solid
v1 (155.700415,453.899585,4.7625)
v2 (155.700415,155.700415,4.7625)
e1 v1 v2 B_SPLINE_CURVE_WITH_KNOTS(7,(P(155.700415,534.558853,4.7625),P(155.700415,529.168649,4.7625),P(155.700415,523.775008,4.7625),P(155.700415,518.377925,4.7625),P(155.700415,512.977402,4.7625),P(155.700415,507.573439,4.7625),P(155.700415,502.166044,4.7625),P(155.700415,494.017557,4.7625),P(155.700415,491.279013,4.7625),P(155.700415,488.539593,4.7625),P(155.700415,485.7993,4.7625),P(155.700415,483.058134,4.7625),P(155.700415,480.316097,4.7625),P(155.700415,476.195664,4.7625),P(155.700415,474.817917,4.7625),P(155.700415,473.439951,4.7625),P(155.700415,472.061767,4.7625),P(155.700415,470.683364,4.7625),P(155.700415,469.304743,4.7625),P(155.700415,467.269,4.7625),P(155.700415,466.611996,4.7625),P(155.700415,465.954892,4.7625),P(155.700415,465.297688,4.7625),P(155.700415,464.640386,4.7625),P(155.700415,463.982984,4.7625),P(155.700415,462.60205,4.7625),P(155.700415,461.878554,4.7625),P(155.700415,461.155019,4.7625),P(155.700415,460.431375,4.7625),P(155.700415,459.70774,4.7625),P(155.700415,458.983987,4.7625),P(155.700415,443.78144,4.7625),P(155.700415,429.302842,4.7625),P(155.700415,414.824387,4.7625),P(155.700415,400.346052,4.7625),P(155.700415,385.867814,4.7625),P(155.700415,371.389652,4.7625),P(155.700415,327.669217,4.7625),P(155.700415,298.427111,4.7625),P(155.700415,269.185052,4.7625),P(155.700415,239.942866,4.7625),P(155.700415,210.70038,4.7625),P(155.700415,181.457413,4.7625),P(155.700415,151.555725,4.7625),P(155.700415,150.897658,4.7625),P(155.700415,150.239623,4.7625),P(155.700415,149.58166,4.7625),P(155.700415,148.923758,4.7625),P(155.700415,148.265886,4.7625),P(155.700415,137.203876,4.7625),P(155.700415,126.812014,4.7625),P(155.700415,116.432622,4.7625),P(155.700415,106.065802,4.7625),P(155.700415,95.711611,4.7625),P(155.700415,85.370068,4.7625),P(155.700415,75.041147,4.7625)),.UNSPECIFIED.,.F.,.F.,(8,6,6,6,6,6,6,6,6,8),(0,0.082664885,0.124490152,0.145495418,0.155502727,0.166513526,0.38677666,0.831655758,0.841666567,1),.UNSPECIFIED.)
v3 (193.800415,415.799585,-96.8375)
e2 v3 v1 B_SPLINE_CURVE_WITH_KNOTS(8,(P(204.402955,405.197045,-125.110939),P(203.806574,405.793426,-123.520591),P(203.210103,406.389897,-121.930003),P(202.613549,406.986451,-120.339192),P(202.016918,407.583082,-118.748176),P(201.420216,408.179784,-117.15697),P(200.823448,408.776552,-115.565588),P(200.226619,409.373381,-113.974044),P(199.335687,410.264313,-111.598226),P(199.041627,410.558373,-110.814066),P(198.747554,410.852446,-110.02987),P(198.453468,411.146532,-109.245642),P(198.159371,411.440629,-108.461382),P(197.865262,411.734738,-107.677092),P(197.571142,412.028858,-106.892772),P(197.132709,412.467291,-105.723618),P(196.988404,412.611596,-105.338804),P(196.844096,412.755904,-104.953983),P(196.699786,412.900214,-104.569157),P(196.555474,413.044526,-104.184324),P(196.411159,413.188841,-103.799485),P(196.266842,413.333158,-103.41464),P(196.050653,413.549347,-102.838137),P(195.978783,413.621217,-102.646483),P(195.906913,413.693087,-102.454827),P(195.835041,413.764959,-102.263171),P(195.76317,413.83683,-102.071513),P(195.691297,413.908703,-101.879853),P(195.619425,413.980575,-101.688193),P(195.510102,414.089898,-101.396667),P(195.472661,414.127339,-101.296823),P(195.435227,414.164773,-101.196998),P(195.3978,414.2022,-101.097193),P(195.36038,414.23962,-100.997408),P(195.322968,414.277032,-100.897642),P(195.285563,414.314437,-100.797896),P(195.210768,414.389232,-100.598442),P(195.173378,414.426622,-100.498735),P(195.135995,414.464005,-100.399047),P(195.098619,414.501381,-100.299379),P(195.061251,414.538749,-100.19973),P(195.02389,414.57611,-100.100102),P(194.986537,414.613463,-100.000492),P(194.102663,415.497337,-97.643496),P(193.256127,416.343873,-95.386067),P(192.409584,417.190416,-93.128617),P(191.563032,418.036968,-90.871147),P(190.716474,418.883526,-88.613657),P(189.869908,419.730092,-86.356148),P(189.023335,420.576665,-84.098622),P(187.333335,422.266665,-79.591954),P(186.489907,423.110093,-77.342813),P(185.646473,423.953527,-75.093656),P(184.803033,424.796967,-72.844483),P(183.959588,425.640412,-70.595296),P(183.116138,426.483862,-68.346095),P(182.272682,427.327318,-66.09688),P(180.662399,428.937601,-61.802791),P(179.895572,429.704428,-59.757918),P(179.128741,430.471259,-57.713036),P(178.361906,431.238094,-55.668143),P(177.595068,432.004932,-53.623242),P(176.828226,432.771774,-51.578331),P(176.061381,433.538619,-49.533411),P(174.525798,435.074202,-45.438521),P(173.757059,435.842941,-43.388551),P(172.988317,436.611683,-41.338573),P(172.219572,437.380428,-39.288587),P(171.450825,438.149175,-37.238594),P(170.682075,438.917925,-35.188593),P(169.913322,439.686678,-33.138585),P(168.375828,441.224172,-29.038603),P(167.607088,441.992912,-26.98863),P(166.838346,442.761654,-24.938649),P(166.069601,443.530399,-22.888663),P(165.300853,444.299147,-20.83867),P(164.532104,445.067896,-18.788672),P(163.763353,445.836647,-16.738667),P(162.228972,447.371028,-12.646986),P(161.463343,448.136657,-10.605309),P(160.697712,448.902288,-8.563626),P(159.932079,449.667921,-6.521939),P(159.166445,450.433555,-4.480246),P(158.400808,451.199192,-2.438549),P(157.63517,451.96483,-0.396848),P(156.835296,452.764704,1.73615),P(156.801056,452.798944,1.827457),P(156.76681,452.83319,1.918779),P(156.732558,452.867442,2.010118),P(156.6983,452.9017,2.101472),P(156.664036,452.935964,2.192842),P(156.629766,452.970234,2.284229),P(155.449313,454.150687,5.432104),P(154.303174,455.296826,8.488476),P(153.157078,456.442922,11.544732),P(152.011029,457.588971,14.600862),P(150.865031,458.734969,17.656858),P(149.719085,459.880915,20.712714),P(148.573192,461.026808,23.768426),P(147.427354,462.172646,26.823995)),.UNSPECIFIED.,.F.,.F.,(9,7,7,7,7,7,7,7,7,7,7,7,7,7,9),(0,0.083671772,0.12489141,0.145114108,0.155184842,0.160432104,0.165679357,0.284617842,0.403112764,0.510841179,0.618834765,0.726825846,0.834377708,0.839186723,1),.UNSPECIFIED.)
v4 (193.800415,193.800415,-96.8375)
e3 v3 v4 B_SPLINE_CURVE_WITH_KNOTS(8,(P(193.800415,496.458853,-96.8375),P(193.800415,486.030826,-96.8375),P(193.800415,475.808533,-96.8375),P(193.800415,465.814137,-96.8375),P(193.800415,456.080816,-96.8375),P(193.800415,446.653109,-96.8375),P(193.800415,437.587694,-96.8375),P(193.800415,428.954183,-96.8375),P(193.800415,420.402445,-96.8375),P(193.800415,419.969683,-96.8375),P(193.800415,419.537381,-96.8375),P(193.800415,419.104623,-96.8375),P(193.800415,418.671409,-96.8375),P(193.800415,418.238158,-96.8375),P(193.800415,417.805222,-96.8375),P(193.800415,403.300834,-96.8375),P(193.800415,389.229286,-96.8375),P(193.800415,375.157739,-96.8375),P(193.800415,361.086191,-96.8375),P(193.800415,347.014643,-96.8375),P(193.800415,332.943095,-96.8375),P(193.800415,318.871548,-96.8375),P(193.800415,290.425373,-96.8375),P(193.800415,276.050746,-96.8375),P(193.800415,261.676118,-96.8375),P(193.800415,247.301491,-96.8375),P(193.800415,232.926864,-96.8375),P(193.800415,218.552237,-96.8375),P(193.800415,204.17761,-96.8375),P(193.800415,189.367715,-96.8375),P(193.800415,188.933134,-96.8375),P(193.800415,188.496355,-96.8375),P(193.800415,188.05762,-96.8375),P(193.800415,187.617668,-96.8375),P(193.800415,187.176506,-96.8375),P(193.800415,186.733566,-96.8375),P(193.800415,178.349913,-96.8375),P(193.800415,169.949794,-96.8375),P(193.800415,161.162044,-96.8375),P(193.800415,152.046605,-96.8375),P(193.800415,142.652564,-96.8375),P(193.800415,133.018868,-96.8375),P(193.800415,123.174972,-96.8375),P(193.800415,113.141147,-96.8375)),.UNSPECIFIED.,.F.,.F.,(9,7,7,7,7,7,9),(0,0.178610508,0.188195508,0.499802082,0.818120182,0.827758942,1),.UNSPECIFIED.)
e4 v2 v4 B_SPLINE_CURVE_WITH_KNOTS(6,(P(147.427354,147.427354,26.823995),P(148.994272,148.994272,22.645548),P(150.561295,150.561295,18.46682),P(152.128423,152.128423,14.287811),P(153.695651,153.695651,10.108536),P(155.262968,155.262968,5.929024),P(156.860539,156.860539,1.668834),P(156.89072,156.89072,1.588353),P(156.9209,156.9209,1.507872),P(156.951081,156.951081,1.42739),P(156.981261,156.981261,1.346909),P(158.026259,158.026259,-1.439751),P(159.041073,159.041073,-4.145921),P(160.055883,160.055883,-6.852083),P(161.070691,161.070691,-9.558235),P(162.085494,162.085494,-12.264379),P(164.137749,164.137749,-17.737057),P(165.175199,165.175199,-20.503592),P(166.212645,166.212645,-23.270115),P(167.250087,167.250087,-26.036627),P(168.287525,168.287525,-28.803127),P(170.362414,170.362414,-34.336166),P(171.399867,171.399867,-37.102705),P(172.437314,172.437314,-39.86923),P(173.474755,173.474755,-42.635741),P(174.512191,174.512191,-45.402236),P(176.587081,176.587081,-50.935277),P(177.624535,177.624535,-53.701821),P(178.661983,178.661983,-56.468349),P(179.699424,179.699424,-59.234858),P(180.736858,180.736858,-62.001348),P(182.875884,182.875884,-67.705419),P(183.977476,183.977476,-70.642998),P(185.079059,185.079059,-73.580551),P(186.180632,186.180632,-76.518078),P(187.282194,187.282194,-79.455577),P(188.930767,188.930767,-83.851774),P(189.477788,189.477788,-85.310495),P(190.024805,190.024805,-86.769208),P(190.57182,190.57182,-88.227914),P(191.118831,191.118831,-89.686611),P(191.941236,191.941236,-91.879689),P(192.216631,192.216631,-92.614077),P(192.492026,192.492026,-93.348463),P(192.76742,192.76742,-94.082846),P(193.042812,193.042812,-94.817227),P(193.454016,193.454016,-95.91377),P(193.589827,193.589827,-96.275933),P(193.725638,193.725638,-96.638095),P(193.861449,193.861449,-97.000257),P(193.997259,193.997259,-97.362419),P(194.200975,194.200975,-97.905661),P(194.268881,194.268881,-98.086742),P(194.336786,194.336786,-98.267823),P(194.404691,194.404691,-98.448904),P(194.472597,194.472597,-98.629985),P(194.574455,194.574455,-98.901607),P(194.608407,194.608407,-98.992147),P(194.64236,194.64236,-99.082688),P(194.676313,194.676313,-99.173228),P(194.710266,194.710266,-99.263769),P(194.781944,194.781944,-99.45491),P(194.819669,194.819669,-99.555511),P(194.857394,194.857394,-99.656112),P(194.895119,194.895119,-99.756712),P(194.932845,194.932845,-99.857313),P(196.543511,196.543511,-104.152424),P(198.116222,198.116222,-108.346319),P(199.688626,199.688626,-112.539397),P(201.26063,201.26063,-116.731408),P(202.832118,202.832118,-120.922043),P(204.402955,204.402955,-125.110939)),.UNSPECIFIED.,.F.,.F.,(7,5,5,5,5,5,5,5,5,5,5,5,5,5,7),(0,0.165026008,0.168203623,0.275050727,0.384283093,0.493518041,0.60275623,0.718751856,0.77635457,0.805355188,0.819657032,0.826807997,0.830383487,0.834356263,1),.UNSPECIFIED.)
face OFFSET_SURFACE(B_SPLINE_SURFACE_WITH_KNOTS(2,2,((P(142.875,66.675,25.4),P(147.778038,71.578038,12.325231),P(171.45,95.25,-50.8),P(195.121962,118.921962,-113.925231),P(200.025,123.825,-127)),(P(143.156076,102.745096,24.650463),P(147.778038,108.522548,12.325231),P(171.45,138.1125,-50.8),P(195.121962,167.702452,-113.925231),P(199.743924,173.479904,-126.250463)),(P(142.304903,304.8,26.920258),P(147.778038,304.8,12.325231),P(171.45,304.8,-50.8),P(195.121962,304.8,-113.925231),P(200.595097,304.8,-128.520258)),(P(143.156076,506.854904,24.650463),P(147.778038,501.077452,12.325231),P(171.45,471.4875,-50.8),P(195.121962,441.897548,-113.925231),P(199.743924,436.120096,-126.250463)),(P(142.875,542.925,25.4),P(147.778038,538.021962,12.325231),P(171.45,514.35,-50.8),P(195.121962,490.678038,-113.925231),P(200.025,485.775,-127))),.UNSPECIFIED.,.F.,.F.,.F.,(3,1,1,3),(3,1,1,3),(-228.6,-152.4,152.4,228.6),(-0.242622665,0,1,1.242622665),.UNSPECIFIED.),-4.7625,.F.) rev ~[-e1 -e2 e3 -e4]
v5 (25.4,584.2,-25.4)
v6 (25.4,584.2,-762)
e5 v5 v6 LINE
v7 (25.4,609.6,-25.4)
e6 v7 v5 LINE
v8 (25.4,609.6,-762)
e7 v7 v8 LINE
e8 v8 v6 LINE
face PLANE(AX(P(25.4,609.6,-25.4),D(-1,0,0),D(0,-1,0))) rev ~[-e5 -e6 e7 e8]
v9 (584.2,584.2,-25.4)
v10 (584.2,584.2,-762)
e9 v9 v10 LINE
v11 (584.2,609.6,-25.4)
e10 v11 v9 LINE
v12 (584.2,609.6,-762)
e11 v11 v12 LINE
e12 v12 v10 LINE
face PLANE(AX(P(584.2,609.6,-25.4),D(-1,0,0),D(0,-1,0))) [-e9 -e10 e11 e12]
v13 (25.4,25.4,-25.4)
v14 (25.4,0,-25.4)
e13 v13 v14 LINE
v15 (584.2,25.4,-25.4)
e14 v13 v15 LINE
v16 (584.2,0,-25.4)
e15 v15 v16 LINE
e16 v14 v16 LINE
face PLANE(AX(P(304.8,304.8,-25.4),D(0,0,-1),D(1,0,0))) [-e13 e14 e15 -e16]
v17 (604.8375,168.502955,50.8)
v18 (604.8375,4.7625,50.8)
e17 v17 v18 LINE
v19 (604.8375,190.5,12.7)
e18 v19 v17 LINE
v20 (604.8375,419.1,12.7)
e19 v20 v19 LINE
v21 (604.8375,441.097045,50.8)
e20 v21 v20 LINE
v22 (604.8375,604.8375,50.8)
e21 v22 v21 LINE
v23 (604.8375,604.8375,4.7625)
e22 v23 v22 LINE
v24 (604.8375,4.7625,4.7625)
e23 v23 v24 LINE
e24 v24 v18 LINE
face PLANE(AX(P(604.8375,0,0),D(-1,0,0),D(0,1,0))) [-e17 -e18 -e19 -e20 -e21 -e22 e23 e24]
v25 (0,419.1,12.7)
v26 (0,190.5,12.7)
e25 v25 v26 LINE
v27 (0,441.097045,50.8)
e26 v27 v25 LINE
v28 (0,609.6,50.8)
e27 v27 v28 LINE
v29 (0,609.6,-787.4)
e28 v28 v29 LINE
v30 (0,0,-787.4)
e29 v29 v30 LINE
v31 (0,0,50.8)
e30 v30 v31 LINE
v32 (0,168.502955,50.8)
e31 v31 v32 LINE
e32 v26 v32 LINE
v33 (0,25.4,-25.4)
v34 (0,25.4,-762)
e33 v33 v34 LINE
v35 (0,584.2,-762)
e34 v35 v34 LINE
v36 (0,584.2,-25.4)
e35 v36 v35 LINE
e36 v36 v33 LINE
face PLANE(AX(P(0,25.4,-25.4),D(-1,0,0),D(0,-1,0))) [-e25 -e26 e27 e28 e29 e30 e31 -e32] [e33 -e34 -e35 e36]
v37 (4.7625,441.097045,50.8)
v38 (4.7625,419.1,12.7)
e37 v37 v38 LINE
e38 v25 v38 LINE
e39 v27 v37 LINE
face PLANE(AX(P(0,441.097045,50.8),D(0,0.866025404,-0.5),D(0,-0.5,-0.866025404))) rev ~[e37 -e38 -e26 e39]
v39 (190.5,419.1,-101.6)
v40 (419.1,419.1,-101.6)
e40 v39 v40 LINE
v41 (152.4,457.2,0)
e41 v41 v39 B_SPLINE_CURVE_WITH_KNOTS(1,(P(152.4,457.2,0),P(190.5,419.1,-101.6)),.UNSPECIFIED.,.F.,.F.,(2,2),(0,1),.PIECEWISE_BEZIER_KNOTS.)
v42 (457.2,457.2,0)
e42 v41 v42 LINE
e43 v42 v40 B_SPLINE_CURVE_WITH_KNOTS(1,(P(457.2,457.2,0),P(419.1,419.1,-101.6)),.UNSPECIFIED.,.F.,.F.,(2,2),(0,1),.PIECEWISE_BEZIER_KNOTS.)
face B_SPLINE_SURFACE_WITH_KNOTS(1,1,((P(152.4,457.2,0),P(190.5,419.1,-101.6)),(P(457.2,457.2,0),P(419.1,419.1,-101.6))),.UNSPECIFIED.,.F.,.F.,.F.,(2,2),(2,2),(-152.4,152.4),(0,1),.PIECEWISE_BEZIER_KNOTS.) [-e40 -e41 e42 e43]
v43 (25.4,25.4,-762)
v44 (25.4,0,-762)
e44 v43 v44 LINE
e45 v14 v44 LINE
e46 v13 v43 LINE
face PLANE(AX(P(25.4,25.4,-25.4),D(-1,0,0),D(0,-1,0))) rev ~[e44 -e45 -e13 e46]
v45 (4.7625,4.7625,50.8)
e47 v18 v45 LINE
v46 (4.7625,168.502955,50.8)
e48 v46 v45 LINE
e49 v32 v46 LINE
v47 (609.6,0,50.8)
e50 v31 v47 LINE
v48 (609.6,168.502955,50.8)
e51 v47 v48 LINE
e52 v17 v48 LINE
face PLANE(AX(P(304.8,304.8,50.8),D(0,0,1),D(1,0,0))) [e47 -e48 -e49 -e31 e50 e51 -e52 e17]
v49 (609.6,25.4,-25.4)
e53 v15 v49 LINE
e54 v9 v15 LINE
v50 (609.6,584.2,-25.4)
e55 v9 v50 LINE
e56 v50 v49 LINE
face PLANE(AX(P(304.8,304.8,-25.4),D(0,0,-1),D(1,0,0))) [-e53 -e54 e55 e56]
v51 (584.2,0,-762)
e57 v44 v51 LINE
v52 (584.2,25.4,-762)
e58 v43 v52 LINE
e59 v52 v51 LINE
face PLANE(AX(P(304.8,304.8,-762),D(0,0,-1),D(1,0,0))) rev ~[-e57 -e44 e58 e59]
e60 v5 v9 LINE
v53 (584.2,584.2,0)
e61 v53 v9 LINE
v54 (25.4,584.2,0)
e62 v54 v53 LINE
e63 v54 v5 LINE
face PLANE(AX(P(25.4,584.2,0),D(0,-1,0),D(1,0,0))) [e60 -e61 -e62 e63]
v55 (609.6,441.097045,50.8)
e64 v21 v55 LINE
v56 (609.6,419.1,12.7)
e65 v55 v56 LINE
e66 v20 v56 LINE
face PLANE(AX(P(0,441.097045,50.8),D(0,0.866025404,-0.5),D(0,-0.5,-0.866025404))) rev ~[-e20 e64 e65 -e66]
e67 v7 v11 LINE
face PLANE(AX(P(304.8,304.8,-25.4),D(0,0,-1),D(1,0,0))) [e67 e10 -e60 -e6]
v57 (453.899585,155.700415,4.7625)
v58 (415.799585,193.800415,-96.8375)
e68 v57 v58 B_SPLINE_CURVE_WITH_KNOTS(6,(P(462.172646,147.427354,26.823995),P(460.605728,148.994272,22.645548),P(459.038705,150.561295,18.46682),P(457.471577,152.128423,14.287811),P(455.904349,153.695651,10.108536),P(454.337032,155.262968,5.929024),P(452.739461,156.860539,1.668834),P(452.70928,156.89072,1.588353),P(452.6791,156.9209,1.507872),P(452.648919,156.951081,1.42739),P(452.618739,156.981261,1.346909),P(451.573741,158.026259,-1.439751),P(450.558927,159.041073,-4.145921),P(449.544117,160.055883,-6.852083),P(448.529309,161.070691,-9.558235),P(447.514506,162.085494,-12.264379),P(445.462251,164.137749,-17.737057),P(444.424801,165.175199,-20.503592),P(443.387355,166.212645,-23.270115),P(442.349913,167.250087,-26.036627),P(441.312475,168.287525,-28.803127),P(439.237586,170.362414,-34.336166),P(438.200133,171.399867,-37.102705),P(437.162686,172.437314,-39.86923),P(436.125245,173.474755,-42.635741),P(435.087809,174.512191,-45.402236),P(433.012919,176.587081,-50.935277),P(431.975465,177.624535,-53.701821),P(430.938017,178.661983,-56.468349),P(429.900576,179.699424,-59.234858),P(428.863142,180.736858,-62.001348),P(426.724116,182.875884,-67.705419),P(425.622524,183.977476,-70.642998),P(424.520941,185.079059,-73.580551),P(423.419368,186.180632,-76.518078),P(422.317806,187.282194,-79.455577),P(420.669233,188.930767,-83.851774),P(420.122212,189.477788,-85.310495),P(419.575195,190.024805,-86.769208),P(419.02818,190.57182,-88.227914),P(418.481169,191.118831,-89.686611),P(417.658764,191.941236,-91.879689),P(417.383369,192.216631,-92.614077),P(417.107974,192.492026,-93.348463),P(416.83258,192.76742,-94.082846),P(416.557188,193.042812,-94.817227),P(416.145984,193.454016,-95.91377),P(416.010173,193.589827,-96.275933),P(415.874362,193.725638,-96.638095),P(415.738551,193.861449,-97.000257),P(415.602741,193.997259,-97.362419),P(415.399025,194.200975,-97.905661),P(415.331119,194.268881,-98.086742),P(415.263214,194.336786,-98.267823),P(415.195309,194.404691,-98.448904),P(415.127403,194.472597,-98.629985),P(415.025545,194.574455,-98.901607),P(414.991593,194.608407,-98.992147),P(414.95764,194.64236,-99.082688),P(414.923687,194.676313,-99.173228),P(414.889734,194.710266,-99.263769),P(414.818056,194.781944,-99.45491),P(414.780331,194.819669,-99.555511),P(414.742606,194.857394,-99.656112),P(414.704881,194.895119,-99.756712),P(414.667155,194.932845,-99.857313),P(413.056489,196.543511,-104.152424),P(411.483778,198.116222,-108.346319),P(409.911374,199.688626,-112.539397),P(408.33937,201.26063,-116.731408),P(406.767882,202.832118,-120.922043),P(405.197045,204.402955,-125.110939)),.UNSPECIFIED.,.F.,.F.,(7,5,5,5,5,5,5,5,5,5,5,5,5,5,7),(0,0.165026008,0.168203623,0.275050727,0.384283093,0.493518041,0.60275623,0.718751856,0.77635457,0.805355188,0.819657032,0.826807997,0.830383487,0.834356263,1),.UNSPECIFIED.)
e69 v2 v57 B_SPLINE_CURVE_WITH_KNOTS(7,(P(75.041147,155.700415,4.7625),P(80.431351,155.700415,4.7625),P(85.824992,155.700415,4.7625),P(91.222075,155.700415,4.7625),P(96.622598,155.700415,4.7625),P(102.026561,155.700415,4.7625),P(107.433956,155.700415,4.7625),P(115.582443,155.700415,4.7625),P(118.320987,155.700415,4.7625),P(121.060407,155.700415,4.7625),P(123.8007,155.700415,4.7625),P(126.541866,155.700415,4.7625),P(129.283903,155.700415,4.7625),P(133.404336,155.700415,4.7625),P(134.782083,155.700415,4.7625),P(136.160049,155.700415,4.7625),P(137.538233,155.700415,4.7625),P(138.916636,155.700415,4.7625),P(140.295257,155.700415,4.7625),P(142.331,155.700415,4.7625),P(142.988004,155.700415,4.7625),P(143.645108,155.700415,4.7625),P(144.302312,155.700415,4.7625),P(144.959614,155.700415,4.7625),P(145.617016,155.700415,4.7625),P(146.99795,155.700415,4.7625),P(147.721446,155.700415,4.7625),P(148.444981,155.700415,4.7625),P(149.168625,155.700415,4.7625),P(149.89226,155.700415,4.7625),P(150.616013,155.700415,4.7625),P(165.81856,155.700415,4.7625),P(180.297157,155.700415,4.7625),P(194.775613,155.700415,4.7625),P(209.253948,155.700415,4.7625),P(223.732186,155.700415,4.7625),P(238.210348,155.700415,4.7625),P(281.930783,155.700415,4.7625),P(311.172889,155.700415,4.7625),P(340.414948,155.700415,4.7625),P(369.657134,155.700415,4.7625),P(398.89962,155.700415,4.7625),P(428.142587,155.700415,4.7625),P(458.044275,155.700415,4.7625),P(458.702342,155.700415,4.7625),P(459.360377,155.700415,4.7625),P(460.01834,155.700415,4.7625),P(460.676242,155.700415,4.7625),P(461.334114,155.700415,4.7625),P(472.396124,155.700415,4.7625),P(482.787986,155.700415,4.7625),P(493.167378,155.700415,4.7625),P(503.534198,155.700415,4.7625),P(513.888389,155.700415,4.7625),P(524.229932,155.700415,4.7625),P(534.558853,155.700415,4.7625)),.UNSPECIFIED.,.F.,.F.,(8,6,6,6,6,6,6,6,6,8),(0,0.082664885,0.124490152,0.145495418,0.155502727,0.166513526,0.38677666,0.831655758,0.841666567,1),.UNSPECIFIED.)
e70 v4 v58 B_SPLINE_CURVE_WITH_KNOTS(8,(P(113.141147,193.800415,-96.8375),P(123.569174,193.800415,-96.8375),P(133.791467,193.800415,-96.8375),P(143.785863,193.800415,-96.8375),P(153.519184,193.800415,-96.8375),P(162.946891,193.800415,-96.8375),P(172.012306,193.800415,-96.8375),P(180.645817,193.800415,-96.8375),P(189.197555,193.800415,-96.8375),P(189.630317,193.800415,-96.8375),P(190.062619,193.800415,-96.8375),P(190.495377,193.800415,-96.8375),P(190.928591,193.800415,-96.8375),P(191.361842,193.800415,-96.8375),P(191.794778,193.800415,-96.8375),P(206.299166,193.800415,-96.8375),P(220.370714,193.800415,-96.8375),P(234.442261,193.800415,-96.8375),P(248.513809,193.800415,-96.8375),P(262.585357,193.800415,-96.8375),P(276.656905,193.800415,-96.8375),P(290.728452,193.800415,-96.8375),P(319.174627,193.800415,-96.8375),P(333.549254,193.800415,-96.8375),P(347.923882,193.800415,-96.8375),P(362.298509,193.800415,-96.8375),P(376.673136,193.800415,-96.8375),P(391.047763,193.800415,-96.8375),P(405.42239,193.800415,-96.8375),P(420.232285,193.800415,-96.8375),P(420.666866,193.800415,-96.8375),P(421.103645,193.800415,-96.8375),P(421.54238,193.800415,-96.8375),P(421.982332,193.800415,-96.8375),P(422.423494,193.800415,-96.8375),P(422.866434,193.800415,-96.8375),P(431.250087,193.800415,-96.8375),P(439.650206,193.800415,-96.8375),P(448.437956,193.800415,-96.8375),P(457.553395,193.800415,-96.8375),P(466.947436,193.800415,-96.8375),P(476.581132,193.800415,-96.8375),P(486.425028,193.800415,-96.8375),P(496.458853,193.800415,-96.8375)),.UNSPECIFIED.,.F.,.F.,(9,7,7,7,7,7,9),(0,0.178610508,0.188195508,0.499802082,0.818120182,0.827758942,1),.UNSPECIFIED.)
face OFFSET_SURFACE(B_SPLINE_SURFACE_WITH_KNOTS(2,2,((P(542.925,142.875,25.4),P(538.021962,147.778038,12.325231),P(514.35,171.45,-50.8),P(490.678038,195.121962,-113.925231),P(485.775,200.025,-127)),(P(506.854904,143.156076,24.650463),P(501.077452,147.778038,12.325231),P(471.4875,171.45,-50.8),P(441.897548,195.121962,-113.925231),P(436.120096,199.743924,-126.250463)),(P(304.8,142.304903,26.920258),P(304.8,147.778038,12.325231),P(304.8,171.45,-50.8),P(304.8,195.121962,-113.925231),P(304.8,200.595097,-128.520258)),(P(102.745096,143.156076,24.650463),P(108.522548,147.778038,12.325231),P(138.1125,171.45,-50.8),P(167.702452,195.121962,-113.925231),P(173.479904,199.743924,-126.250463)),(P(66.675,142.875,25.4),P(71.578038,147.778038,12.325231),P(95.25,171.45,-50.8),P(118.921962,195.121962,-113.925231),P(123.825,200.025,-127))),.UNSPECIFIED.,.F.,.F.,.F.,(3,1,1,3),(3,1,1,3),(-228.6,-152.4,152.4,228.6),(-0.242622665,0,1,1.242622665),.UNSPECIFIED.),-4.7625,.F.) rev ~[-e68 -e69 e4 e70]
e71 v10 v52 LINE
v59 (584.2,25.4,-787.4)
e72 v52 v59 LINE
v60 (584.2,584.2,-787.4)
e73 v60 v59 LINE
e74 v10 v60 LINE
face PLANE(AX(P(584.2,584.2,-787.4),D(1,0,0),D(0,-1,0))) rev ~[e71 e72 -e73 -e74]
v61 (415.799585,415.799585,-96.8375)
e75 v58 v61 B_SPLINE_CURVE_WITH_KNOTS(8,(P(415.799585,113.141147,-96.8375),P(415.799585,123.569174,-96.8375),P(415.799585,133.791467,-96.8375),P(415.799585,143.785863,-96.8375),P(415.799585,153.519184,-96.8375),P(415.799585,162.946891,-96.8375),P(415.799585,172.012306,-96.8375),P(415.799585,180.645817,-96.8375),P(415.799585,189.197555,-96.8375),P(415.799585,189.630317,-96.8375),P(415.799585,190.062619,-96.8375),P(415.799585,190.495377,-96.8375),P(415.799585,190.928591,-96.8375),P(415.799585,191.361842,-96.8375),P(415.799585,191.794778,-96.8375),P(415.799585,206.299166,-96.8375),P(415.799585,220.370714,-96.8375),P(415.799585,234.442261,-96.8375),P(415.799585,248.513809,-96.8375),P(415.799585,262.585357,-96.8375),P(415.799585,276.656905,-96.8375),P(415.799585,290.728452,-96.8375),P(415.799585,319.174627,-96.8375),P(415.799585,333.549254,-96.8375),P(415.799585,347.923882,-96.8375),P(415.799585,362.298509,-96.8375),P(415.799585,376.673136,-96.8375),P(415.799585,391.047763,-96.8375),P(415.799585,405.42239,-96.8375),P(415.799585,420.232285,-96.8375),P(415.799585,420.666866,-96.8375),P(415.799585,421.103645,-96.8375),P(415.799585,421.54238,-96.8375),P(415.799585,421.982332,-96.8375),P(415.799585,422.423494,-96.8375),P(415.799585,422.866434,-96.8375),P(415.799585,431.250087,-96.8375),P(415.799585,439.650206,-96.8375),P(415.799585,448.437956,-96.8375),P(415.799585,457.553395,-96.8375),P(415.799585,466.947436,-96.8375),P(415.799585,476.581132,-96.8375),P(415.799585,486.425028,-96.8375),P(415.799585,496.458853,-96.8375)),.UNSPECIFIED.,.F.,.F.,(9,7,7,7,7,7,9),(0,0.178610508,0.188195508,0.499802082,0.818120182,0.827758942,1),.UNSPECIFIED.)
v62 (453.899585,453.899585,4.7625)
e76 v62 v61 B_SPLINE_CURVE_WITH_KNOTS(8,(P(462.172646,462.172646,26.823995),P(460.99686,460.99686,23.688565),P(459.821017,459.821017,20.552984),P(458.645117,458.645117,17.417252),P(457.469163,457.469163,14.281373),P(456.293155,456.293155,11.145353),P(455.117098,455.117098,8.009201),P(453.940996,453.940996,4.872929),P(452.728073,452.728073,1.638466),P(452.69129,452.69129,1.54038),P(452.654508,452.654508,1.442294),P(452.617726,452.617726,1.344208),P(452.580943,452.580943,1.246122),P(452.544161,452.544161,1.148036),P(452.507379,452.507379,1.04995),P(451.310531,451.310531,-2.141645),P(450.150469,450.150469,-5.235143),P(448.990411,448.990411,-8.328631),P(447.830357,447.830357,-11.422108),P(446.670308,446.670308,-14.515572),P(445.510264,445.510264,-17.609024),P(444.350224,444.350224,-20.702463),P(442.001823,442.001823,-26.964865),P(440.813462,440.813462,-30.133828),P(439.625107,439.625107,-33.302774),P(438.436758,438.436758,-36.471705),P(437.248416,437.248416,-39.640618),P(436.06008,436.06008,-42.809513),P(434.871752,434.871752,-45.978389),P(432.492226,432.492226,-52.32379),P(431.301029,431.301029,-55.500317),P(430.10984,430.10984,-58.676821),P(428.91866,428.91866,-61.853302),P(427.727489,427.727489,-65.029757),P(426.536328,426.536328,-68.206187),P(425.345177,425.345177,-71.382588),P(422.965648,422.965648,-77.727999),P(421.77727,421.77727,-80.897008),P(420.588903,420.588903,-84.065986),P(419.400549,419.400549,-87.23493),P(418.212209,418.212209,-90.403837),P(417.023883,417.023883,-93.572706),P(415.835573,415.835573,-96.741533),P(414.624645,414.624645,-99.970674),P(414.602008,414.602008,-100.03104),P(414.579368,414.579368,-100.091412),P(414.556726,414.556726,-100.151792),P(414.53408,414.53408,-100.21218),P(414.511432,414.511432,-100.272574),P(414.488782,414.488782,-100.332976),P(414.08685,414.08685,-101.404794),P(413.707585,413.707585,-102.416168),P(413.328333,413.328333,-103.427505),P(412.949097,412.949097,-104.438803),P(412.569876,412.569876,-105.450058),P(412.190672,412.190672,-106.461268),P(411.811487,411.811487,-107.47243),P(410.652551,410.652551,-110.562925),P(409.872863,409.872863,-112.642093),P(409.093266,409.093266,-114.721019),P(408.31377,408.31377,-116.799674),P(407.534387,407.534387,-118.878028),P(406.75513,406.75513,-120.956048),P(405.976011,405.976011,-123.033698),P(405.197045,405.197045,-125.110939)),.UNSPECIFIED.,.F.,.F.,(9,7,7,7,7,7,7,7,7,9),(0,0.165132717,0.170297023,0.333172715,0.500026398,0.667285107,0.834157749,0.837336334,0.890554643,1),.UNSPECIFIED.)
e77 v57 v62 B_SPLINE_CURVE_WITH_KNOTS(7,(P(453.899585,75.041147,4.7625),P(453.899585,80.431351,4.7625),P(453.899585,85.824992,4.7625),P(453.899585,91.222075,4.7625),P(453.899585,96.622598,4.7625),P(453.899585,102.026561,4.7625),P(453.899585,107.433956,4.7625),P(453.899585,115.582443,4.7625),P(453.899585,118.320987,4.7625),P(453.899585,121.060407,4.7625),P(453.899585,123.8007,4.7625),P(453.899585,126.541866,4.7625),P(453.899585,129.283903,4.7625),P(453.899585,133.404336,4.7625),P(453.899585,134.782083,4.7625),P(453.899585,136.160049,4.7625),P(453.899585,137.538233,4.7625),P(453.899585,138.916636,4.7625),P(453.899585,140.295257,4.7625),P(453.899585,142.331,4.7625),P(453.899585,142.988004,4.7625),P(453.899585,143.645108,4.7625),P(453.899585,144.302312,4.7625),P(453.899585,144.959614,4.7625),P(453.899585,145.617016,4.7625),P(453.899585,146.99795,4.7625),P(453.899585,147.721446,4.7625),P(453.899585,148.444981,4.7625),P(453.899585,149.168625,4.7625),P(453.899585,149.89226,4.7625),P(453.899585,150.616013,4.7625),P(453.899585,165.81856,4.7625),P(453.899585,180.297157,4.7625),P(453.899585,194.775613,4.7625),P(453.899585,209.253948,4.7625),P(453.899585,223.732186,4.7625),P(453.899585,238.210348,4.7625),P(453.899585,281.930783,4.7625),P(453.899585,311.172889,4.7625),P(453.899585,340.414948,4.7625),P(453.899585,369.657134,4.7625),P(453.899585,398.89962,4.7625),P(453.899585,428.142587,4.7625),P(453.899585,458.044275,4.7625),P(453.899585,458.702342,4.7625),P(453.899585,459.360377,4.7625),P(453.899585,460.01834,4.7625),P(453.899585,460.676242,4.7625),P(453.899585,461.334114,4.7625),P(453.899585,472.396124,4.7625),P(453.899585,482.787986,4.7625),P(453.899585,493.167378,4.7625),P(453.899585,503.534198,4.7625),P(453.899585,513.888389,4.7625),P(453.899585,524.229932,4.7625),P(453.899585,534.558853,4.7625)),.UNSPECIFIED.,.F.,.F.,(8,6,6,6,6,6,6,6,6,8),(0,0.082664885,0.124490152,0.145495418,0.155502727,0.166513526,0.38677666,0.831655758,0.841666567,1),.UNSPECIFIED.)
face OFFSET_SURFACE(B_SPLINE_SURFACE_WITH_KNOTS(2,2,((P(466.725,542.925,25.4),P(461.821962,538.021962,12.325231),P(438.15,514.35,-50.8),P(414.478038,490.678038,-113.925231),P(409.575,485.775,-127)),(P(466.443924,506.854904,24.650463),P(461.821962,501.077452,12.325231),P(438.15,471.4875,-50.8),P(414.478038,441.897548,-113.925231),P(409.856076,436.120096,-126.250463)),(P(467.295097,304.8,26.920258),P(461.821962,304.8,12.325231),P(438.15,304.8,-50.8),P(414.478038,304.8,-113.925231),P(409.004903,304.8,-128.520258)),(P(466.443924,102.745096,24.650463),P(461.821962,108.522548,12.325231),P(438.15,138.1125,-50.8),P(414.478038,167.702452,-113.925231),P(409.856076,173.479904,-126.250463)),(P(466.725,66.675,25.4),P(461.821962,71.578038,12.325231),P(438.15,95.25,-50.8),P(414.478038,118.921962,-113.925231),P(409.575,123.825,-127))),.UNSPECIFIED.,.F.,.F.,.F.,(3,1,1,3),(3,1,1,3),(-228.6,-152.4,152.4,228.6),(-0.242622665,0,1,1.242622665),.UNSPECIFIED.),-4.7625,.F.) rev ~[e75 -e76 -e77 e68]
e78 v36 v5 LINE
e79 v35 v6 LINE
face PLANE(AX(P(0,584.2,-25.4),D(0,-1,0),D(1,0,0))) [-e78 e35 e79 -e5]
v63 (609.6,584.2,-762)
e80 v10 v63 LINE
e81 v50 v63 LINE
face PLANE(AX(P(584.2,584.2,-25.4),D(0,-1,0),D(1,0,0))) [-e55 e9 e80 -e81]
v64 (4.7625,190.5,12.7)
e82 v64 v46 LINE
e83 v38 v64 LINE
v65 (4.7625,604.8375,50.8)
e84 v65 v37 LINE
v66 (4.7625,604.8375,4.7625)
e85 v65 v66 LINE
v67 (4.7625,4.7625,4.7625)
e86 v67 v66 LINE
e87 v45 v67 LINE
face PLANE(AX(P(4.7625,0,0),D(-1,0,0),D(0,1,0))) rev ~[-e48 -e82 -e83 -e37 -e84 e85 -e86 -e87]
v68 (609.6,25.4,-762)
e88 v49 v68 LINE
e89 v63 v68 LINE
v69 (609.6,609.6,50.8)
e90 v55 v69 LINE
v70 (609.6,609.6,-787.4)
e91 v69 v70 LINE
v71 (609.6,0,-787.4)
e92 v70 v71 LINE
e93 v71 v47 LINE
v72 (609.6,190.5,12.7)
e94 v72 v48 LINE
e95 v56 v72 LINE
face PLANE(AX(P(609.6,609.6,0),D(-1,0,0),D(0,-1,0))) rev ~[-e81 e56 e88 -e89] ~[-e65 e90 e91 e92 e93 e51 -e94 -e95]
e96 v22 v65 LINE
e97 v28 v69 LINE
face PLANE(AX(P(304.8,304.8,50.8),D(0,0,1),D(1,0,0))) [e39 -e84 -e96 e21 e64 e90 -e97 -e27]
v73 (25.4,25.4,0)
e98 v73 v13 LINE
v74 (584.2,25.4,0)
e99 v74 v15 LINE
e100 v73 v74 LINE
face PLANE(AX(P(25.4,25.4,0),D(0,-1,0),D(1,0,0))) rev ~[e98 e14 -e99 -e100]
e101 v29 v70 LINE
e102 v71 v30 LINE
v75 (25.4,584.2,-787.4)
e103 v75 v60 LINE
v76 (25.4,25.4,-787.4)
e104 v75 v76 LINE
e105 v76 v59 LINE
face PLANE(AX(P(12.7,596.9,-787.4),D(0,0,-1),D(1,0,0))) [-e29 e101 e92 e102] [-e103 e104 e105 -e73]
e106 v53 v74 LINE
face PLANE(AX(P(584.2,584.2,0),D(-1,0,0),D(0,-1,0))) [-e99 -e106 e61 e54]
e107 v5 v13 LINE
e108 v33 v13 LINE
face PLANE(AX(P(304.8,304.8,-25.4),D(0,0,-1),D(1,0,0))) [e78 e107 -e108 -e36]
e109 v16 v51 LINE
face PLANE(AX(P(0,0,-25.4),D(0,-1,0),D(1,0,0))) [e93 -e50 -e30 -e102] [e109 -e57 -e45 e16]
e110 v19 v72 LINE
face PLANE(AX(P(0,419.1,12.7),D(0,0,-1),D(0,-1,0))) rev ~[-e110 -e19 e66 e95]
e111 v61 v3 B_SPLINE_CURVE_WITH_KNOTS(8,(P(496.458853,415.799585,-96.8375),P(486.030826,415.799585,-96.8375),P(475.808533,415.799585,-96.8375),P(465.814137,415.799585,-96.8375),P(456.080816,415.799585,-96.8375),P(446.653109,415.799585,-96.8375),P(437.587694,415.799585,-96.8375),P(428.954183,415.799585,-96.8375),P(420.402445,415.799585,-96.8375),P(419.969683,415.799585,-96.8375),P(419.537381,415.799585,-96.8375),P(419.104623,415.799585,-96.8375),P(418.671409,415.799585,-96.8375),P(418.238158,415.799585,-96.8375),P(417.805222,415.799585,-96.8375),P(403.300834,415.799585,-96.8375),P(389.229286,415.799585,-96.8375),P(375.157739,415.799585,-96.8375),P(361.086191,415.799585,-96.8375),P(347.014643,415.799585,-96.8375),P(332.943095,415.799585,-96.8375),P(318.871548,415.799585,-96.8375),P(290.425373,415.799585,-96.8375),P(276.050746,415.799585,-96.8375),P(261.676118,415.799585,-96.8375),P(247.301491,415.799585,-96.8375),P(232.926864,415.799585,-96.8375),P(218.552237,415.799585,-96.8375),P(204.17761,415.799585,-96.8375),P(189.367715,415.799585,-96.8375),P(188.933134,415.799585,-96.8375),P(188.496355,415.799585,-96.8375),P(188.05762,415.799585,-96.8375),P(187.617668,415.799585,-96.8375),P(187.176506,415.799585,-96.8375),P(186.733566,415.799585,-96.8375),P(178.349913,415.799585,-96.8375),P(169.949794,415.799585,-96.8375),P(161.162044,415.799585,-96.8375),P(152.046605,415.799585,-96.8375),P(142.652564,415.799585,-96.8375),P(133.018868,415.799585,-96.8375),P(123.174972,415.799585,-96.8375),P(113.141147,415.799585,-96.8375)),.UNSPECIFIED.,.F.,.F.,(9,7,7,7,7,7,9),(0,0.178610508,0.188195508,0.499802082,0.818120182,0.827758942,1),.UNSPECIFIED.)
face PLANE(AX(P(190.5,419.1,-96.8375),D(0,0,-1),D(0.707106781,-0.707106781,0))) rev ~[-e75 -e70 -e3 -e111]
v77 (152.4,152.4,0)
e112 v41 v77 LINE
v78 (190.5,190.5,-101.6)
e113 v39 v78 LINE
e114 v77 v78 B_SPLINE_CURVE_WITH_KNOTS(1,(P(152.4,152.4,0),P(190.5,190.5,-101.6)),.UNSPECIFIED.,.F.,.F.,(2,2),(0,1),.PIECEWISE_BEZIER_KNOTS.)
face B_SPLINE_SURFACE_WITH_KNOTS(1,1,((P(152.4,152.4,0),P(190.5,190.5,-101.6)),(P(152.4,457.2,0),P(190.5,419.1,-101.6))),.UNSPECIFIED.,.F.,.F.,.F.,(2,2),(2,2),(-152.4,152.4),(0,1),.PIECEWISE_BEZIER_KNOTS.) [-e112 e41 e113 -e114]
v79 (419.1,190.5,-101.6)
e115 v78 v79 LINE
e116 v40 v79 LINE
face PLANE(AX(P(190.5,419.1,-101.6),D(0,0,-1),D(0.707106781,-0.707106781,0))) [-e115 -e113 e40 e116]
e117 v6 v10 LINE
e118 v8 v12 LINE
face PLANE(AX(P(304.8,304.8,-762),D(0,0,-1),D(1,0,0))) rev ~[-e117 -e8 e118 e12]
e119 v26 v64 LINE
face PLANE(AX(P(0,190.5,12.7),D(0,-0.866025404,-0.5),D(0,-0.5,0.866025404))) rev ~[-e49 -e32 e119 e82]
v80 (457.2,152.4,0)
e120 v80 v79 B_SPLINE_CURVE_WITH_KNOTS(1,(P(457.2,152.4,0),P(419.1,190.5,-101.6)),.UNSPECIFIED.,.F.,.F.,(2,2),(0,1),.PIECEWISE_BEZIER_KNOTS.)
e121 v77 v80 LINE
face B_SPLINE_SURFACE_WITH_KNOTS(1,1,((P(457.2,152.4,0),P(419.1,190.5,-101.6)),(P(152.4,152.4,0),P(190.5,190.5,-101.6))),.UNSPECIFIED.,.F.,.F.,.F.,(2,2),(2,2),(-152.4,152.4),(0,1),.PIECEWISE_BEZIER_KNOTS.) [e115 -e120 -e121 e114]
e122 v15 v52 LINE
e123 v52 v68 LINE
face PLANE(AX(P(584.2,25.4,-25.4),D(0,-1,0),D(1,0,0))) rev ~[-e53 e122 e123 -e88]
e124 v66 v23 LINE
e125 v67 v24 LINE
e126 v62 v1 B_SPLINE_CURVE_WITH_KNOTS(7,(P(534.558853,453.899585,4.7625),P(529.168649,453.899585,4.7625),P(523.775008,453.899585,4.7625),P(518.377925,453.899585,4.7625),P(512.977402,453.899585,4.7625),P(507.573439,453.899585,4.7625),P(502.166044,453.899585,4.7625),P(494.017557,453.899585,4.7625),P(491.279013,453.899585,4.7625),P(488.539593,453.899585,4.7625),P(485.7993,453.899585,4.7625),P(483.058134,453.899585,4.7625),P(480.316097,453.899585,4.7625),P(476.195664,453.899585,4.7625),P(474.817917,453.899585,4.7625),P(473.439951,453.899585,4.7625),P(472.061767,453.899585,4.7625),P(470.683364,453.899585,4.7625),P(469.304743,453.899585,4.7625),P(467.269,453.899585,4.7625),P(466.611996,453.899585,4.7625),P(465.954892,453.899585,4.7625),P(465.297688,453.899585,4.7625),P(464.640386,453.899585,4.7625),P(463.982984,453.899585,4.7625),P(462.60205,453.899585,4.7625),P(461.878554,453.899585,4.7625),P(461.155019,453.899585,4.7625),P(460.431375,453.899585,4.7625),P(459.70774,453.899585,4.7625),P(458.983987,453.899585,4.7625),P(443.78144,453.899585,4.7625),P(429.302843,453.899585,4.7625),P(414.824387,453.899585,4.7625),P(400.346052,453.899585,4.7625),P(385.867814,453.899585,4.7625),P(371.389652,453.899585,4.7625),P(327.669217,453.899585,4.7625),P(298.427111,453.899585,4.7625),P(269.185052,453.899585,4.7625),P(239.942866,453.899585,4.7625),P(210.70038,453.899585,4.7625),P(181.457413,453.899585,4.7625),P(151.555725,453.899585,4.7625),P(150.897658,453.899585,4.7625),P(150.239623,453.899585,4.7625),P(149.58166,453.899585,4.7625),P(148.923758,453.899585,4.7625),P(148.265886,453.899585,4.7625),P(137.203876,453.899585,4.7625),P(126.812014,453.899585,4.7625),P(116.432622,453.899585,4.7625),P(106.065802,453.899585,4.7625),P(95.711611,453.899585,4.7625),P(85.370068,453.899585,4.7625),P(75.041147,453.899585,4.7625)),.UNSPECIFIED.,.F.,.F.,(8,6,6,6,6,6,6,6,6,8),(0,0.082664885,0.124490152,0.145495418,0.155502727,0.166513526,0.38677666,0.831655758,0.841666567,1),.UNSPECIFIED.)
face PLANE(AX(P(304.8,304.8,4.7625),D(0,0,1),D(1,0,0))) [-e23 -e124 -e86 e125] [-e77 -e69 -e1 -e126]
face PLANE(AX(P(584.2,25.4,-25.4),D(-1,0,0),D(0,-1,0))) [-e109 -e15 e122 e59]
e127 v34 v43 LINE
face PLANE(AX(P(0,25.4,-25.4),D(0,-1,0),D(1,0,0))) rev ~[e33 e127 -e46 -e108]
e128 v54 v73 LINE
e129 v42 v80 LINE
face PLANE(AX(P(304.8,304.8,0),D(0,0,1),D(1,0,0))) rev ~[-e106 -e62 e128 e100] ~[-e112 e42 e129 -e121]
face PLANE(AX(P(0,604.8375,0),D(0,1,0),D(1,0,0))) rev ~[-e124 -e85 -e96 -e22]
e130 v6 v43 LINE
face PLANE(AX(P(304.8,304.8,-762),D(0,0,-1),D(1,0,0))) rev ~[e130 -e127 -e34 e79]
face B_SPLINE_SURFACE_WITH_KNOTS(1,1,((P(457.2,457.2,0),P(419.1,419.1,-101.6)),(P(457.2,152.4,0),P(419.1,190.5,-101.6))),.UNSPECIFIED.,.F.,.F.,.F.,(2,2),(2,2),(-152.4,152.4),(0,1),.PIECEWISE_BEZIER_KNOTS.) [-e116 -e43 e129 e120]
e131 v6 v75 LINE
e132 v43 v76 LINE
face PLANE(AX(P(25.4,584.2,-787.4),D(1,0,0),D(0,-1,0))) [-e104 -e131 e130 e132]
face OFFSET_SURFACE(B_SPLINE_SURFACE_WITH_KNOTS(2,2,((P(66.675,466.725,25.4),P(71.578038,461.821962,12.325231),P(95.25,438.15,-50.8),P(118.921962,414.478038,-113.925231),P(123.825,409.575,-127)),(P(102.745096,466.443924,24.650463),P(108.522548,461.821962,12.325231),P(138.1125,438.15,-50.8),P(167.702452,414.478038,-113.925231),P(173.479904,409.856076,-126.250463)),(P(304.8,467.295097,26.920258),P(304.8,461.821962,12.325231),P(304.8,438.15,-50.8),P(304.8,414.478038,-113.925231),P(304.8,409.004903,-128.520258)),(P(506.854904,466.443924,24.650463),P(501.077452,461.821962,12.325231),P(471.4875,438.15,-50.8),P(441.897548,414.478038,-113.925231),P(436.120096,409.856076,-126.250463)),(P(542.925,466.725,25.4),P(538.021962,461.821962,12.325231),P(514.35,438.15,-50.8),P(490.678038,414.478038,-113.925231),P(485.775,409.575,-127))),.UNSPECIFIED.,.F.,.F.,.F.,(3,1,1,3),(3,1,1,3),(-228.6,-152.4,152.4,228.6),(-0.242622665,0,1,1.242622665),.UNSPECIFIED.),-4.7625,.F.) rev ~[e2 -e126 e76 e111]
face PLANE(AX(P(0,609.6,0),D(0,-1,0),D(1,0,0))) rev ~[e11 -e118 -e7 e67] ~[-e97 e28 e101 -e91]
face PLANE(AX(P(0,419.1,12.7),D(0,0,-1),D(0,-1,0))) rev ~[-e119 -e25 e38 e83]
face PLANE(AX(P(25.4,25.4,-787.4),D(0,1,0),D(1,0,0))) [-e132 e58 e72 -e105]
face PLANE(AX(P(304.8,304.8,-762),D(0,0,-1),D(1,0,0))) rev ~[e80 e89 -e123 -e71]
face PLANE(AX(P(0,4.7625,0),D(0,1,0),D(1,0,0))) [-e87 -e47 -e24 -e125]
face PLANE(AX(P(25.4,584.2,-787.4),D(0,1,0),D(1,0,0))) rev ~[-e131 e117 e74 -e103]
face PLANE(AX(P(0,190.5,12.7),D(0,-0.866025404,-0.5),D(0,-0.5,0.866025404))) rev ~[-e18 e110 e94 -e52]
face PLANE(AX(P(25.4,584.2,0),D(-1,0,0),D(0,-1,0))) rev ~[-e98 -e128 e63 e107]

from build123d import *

# Parameters (mm, degrees)
F0_W      = 609.6
F0_H      = 609.6
F1_DEPTH  = 50.8
F2_W      = 304.8
F2_H      = 304.8
F4_W      = 228.6
F4_H      = 228.6
F6_T      = -4.7625
F7_W      = 609.6
F7_H      = 609.6
F7_W_2    = 558.8
F7_H_2    = 558.8
F8_DEPTH  = 25.4
F10_DEPTH = 609.601
F11_W     = 25.4
F11_H     = 25.4
F12_DEPTH = 762
F13_W     = 609.6
F13_H     = 609.6
F13_W_2   = 558.8
F13_H_2   = 558.8
F14_DEPTH = 25.4


with BuildPart() as f1:
    # F0 (on Top) → F1 (new body)
    with BuildSketch(Plane.XY):
        with Locations((304.8, 304.8)):
            Rectangle(F0_W, F0_H)
    extrude(amount=F1_DEPTH)

    # F2 (on face) → F5 section 0
    with BuildSketch(Plane(origin=(0, 0, 0), x_dir=(1, 0, 0), z_dir=(0, 0, -1))):
        with Locations((304.8, -304.8)):
            Rectangle(F2_W, F2_H)
    # F4 (on offset) → F5 section 1
    with BuildSketch(Plane(origin=(0, 0, -101.6), x_dir=(1, 0, 0), z_dir=(0, 0, -1))):
        with Locations((304.8, -304.8)):
            Rectangle(F4_W, F4_H)
    loft()

    # F6
    f6_openings = [f1.faces().sort_by_distance(p)[0] for p in [
        (304.8, 304.8, 50.8),
    ]]
    offset(amount=F6_T, openings=f6_openings, kind=Kind.INTERSECTION)

    # F7 (on face) → F8 (join)
    with BuildSketch(Plane(origin=(0, 0, 0), x_dir=(1, 0, 0), z_dir=(0, 0, -1))):
        with Locations((304.8, -304.8)):
            Rectangle(F7_W, F7_H)
        with Locations((304.8, -304.8)):
            Rectangle(F7_W_2, F7_H_2, mode=Mode.SUBTRACT)
    extrude(amount=F8_DEPTH)

    # F9 (on face) → F10 (cut, through all)
    with BuildSketch(Plane(origin=(0, 0, 0), x_dir=(0, -1, 0), z_dir=(-1, 0, 0))):
        Polygon((-441.0970452561, 50.8), (-419.1, 12.7), (-190.5, 12.7), (-168.5029547439, 50.8), align=None)
    extrude(amount=-F10_DEPTH, mode=Mode.SUBTRACT)

    # F11 (on face) → F12 (join)
    with BuildSketch(Plane(origin=(0, 0, -25.4), x_dir=(1, 0, 0), z_dir=(0, 0, -1))):
        with Locations((12.7, -12.7)):
            Rectangle(F11_W, F11_H)
        with Locations((596.9, -12.7)):
            Rectangle(F11_W, F11_H)
        with Locations((596.9, -596.9)):
            Rectangle(F11_W, F11_H)
        with Locations((12.7, -596.9)):
            Rectangle(F11_W, F11_H)
    extrude(amount=F12_DEPTH)

    # F13 (on face) → F14 (join)
    with BuildSketch(Plane(origin=(0, 0, -787.4), x_dir=(1, 0, 0), z_dir=(0, 0, -1))):
        with Locations((304.8, -304.8)):
            Rectangle(F13_W, F13_H)
        with Locations((304.8, -304.8)):
            Rectangle(F13_W_2, F13_H_2, mode=Mode.SUBTRACT)
    extrude(amount=-F14_DEPTH)


solid = f1.part
